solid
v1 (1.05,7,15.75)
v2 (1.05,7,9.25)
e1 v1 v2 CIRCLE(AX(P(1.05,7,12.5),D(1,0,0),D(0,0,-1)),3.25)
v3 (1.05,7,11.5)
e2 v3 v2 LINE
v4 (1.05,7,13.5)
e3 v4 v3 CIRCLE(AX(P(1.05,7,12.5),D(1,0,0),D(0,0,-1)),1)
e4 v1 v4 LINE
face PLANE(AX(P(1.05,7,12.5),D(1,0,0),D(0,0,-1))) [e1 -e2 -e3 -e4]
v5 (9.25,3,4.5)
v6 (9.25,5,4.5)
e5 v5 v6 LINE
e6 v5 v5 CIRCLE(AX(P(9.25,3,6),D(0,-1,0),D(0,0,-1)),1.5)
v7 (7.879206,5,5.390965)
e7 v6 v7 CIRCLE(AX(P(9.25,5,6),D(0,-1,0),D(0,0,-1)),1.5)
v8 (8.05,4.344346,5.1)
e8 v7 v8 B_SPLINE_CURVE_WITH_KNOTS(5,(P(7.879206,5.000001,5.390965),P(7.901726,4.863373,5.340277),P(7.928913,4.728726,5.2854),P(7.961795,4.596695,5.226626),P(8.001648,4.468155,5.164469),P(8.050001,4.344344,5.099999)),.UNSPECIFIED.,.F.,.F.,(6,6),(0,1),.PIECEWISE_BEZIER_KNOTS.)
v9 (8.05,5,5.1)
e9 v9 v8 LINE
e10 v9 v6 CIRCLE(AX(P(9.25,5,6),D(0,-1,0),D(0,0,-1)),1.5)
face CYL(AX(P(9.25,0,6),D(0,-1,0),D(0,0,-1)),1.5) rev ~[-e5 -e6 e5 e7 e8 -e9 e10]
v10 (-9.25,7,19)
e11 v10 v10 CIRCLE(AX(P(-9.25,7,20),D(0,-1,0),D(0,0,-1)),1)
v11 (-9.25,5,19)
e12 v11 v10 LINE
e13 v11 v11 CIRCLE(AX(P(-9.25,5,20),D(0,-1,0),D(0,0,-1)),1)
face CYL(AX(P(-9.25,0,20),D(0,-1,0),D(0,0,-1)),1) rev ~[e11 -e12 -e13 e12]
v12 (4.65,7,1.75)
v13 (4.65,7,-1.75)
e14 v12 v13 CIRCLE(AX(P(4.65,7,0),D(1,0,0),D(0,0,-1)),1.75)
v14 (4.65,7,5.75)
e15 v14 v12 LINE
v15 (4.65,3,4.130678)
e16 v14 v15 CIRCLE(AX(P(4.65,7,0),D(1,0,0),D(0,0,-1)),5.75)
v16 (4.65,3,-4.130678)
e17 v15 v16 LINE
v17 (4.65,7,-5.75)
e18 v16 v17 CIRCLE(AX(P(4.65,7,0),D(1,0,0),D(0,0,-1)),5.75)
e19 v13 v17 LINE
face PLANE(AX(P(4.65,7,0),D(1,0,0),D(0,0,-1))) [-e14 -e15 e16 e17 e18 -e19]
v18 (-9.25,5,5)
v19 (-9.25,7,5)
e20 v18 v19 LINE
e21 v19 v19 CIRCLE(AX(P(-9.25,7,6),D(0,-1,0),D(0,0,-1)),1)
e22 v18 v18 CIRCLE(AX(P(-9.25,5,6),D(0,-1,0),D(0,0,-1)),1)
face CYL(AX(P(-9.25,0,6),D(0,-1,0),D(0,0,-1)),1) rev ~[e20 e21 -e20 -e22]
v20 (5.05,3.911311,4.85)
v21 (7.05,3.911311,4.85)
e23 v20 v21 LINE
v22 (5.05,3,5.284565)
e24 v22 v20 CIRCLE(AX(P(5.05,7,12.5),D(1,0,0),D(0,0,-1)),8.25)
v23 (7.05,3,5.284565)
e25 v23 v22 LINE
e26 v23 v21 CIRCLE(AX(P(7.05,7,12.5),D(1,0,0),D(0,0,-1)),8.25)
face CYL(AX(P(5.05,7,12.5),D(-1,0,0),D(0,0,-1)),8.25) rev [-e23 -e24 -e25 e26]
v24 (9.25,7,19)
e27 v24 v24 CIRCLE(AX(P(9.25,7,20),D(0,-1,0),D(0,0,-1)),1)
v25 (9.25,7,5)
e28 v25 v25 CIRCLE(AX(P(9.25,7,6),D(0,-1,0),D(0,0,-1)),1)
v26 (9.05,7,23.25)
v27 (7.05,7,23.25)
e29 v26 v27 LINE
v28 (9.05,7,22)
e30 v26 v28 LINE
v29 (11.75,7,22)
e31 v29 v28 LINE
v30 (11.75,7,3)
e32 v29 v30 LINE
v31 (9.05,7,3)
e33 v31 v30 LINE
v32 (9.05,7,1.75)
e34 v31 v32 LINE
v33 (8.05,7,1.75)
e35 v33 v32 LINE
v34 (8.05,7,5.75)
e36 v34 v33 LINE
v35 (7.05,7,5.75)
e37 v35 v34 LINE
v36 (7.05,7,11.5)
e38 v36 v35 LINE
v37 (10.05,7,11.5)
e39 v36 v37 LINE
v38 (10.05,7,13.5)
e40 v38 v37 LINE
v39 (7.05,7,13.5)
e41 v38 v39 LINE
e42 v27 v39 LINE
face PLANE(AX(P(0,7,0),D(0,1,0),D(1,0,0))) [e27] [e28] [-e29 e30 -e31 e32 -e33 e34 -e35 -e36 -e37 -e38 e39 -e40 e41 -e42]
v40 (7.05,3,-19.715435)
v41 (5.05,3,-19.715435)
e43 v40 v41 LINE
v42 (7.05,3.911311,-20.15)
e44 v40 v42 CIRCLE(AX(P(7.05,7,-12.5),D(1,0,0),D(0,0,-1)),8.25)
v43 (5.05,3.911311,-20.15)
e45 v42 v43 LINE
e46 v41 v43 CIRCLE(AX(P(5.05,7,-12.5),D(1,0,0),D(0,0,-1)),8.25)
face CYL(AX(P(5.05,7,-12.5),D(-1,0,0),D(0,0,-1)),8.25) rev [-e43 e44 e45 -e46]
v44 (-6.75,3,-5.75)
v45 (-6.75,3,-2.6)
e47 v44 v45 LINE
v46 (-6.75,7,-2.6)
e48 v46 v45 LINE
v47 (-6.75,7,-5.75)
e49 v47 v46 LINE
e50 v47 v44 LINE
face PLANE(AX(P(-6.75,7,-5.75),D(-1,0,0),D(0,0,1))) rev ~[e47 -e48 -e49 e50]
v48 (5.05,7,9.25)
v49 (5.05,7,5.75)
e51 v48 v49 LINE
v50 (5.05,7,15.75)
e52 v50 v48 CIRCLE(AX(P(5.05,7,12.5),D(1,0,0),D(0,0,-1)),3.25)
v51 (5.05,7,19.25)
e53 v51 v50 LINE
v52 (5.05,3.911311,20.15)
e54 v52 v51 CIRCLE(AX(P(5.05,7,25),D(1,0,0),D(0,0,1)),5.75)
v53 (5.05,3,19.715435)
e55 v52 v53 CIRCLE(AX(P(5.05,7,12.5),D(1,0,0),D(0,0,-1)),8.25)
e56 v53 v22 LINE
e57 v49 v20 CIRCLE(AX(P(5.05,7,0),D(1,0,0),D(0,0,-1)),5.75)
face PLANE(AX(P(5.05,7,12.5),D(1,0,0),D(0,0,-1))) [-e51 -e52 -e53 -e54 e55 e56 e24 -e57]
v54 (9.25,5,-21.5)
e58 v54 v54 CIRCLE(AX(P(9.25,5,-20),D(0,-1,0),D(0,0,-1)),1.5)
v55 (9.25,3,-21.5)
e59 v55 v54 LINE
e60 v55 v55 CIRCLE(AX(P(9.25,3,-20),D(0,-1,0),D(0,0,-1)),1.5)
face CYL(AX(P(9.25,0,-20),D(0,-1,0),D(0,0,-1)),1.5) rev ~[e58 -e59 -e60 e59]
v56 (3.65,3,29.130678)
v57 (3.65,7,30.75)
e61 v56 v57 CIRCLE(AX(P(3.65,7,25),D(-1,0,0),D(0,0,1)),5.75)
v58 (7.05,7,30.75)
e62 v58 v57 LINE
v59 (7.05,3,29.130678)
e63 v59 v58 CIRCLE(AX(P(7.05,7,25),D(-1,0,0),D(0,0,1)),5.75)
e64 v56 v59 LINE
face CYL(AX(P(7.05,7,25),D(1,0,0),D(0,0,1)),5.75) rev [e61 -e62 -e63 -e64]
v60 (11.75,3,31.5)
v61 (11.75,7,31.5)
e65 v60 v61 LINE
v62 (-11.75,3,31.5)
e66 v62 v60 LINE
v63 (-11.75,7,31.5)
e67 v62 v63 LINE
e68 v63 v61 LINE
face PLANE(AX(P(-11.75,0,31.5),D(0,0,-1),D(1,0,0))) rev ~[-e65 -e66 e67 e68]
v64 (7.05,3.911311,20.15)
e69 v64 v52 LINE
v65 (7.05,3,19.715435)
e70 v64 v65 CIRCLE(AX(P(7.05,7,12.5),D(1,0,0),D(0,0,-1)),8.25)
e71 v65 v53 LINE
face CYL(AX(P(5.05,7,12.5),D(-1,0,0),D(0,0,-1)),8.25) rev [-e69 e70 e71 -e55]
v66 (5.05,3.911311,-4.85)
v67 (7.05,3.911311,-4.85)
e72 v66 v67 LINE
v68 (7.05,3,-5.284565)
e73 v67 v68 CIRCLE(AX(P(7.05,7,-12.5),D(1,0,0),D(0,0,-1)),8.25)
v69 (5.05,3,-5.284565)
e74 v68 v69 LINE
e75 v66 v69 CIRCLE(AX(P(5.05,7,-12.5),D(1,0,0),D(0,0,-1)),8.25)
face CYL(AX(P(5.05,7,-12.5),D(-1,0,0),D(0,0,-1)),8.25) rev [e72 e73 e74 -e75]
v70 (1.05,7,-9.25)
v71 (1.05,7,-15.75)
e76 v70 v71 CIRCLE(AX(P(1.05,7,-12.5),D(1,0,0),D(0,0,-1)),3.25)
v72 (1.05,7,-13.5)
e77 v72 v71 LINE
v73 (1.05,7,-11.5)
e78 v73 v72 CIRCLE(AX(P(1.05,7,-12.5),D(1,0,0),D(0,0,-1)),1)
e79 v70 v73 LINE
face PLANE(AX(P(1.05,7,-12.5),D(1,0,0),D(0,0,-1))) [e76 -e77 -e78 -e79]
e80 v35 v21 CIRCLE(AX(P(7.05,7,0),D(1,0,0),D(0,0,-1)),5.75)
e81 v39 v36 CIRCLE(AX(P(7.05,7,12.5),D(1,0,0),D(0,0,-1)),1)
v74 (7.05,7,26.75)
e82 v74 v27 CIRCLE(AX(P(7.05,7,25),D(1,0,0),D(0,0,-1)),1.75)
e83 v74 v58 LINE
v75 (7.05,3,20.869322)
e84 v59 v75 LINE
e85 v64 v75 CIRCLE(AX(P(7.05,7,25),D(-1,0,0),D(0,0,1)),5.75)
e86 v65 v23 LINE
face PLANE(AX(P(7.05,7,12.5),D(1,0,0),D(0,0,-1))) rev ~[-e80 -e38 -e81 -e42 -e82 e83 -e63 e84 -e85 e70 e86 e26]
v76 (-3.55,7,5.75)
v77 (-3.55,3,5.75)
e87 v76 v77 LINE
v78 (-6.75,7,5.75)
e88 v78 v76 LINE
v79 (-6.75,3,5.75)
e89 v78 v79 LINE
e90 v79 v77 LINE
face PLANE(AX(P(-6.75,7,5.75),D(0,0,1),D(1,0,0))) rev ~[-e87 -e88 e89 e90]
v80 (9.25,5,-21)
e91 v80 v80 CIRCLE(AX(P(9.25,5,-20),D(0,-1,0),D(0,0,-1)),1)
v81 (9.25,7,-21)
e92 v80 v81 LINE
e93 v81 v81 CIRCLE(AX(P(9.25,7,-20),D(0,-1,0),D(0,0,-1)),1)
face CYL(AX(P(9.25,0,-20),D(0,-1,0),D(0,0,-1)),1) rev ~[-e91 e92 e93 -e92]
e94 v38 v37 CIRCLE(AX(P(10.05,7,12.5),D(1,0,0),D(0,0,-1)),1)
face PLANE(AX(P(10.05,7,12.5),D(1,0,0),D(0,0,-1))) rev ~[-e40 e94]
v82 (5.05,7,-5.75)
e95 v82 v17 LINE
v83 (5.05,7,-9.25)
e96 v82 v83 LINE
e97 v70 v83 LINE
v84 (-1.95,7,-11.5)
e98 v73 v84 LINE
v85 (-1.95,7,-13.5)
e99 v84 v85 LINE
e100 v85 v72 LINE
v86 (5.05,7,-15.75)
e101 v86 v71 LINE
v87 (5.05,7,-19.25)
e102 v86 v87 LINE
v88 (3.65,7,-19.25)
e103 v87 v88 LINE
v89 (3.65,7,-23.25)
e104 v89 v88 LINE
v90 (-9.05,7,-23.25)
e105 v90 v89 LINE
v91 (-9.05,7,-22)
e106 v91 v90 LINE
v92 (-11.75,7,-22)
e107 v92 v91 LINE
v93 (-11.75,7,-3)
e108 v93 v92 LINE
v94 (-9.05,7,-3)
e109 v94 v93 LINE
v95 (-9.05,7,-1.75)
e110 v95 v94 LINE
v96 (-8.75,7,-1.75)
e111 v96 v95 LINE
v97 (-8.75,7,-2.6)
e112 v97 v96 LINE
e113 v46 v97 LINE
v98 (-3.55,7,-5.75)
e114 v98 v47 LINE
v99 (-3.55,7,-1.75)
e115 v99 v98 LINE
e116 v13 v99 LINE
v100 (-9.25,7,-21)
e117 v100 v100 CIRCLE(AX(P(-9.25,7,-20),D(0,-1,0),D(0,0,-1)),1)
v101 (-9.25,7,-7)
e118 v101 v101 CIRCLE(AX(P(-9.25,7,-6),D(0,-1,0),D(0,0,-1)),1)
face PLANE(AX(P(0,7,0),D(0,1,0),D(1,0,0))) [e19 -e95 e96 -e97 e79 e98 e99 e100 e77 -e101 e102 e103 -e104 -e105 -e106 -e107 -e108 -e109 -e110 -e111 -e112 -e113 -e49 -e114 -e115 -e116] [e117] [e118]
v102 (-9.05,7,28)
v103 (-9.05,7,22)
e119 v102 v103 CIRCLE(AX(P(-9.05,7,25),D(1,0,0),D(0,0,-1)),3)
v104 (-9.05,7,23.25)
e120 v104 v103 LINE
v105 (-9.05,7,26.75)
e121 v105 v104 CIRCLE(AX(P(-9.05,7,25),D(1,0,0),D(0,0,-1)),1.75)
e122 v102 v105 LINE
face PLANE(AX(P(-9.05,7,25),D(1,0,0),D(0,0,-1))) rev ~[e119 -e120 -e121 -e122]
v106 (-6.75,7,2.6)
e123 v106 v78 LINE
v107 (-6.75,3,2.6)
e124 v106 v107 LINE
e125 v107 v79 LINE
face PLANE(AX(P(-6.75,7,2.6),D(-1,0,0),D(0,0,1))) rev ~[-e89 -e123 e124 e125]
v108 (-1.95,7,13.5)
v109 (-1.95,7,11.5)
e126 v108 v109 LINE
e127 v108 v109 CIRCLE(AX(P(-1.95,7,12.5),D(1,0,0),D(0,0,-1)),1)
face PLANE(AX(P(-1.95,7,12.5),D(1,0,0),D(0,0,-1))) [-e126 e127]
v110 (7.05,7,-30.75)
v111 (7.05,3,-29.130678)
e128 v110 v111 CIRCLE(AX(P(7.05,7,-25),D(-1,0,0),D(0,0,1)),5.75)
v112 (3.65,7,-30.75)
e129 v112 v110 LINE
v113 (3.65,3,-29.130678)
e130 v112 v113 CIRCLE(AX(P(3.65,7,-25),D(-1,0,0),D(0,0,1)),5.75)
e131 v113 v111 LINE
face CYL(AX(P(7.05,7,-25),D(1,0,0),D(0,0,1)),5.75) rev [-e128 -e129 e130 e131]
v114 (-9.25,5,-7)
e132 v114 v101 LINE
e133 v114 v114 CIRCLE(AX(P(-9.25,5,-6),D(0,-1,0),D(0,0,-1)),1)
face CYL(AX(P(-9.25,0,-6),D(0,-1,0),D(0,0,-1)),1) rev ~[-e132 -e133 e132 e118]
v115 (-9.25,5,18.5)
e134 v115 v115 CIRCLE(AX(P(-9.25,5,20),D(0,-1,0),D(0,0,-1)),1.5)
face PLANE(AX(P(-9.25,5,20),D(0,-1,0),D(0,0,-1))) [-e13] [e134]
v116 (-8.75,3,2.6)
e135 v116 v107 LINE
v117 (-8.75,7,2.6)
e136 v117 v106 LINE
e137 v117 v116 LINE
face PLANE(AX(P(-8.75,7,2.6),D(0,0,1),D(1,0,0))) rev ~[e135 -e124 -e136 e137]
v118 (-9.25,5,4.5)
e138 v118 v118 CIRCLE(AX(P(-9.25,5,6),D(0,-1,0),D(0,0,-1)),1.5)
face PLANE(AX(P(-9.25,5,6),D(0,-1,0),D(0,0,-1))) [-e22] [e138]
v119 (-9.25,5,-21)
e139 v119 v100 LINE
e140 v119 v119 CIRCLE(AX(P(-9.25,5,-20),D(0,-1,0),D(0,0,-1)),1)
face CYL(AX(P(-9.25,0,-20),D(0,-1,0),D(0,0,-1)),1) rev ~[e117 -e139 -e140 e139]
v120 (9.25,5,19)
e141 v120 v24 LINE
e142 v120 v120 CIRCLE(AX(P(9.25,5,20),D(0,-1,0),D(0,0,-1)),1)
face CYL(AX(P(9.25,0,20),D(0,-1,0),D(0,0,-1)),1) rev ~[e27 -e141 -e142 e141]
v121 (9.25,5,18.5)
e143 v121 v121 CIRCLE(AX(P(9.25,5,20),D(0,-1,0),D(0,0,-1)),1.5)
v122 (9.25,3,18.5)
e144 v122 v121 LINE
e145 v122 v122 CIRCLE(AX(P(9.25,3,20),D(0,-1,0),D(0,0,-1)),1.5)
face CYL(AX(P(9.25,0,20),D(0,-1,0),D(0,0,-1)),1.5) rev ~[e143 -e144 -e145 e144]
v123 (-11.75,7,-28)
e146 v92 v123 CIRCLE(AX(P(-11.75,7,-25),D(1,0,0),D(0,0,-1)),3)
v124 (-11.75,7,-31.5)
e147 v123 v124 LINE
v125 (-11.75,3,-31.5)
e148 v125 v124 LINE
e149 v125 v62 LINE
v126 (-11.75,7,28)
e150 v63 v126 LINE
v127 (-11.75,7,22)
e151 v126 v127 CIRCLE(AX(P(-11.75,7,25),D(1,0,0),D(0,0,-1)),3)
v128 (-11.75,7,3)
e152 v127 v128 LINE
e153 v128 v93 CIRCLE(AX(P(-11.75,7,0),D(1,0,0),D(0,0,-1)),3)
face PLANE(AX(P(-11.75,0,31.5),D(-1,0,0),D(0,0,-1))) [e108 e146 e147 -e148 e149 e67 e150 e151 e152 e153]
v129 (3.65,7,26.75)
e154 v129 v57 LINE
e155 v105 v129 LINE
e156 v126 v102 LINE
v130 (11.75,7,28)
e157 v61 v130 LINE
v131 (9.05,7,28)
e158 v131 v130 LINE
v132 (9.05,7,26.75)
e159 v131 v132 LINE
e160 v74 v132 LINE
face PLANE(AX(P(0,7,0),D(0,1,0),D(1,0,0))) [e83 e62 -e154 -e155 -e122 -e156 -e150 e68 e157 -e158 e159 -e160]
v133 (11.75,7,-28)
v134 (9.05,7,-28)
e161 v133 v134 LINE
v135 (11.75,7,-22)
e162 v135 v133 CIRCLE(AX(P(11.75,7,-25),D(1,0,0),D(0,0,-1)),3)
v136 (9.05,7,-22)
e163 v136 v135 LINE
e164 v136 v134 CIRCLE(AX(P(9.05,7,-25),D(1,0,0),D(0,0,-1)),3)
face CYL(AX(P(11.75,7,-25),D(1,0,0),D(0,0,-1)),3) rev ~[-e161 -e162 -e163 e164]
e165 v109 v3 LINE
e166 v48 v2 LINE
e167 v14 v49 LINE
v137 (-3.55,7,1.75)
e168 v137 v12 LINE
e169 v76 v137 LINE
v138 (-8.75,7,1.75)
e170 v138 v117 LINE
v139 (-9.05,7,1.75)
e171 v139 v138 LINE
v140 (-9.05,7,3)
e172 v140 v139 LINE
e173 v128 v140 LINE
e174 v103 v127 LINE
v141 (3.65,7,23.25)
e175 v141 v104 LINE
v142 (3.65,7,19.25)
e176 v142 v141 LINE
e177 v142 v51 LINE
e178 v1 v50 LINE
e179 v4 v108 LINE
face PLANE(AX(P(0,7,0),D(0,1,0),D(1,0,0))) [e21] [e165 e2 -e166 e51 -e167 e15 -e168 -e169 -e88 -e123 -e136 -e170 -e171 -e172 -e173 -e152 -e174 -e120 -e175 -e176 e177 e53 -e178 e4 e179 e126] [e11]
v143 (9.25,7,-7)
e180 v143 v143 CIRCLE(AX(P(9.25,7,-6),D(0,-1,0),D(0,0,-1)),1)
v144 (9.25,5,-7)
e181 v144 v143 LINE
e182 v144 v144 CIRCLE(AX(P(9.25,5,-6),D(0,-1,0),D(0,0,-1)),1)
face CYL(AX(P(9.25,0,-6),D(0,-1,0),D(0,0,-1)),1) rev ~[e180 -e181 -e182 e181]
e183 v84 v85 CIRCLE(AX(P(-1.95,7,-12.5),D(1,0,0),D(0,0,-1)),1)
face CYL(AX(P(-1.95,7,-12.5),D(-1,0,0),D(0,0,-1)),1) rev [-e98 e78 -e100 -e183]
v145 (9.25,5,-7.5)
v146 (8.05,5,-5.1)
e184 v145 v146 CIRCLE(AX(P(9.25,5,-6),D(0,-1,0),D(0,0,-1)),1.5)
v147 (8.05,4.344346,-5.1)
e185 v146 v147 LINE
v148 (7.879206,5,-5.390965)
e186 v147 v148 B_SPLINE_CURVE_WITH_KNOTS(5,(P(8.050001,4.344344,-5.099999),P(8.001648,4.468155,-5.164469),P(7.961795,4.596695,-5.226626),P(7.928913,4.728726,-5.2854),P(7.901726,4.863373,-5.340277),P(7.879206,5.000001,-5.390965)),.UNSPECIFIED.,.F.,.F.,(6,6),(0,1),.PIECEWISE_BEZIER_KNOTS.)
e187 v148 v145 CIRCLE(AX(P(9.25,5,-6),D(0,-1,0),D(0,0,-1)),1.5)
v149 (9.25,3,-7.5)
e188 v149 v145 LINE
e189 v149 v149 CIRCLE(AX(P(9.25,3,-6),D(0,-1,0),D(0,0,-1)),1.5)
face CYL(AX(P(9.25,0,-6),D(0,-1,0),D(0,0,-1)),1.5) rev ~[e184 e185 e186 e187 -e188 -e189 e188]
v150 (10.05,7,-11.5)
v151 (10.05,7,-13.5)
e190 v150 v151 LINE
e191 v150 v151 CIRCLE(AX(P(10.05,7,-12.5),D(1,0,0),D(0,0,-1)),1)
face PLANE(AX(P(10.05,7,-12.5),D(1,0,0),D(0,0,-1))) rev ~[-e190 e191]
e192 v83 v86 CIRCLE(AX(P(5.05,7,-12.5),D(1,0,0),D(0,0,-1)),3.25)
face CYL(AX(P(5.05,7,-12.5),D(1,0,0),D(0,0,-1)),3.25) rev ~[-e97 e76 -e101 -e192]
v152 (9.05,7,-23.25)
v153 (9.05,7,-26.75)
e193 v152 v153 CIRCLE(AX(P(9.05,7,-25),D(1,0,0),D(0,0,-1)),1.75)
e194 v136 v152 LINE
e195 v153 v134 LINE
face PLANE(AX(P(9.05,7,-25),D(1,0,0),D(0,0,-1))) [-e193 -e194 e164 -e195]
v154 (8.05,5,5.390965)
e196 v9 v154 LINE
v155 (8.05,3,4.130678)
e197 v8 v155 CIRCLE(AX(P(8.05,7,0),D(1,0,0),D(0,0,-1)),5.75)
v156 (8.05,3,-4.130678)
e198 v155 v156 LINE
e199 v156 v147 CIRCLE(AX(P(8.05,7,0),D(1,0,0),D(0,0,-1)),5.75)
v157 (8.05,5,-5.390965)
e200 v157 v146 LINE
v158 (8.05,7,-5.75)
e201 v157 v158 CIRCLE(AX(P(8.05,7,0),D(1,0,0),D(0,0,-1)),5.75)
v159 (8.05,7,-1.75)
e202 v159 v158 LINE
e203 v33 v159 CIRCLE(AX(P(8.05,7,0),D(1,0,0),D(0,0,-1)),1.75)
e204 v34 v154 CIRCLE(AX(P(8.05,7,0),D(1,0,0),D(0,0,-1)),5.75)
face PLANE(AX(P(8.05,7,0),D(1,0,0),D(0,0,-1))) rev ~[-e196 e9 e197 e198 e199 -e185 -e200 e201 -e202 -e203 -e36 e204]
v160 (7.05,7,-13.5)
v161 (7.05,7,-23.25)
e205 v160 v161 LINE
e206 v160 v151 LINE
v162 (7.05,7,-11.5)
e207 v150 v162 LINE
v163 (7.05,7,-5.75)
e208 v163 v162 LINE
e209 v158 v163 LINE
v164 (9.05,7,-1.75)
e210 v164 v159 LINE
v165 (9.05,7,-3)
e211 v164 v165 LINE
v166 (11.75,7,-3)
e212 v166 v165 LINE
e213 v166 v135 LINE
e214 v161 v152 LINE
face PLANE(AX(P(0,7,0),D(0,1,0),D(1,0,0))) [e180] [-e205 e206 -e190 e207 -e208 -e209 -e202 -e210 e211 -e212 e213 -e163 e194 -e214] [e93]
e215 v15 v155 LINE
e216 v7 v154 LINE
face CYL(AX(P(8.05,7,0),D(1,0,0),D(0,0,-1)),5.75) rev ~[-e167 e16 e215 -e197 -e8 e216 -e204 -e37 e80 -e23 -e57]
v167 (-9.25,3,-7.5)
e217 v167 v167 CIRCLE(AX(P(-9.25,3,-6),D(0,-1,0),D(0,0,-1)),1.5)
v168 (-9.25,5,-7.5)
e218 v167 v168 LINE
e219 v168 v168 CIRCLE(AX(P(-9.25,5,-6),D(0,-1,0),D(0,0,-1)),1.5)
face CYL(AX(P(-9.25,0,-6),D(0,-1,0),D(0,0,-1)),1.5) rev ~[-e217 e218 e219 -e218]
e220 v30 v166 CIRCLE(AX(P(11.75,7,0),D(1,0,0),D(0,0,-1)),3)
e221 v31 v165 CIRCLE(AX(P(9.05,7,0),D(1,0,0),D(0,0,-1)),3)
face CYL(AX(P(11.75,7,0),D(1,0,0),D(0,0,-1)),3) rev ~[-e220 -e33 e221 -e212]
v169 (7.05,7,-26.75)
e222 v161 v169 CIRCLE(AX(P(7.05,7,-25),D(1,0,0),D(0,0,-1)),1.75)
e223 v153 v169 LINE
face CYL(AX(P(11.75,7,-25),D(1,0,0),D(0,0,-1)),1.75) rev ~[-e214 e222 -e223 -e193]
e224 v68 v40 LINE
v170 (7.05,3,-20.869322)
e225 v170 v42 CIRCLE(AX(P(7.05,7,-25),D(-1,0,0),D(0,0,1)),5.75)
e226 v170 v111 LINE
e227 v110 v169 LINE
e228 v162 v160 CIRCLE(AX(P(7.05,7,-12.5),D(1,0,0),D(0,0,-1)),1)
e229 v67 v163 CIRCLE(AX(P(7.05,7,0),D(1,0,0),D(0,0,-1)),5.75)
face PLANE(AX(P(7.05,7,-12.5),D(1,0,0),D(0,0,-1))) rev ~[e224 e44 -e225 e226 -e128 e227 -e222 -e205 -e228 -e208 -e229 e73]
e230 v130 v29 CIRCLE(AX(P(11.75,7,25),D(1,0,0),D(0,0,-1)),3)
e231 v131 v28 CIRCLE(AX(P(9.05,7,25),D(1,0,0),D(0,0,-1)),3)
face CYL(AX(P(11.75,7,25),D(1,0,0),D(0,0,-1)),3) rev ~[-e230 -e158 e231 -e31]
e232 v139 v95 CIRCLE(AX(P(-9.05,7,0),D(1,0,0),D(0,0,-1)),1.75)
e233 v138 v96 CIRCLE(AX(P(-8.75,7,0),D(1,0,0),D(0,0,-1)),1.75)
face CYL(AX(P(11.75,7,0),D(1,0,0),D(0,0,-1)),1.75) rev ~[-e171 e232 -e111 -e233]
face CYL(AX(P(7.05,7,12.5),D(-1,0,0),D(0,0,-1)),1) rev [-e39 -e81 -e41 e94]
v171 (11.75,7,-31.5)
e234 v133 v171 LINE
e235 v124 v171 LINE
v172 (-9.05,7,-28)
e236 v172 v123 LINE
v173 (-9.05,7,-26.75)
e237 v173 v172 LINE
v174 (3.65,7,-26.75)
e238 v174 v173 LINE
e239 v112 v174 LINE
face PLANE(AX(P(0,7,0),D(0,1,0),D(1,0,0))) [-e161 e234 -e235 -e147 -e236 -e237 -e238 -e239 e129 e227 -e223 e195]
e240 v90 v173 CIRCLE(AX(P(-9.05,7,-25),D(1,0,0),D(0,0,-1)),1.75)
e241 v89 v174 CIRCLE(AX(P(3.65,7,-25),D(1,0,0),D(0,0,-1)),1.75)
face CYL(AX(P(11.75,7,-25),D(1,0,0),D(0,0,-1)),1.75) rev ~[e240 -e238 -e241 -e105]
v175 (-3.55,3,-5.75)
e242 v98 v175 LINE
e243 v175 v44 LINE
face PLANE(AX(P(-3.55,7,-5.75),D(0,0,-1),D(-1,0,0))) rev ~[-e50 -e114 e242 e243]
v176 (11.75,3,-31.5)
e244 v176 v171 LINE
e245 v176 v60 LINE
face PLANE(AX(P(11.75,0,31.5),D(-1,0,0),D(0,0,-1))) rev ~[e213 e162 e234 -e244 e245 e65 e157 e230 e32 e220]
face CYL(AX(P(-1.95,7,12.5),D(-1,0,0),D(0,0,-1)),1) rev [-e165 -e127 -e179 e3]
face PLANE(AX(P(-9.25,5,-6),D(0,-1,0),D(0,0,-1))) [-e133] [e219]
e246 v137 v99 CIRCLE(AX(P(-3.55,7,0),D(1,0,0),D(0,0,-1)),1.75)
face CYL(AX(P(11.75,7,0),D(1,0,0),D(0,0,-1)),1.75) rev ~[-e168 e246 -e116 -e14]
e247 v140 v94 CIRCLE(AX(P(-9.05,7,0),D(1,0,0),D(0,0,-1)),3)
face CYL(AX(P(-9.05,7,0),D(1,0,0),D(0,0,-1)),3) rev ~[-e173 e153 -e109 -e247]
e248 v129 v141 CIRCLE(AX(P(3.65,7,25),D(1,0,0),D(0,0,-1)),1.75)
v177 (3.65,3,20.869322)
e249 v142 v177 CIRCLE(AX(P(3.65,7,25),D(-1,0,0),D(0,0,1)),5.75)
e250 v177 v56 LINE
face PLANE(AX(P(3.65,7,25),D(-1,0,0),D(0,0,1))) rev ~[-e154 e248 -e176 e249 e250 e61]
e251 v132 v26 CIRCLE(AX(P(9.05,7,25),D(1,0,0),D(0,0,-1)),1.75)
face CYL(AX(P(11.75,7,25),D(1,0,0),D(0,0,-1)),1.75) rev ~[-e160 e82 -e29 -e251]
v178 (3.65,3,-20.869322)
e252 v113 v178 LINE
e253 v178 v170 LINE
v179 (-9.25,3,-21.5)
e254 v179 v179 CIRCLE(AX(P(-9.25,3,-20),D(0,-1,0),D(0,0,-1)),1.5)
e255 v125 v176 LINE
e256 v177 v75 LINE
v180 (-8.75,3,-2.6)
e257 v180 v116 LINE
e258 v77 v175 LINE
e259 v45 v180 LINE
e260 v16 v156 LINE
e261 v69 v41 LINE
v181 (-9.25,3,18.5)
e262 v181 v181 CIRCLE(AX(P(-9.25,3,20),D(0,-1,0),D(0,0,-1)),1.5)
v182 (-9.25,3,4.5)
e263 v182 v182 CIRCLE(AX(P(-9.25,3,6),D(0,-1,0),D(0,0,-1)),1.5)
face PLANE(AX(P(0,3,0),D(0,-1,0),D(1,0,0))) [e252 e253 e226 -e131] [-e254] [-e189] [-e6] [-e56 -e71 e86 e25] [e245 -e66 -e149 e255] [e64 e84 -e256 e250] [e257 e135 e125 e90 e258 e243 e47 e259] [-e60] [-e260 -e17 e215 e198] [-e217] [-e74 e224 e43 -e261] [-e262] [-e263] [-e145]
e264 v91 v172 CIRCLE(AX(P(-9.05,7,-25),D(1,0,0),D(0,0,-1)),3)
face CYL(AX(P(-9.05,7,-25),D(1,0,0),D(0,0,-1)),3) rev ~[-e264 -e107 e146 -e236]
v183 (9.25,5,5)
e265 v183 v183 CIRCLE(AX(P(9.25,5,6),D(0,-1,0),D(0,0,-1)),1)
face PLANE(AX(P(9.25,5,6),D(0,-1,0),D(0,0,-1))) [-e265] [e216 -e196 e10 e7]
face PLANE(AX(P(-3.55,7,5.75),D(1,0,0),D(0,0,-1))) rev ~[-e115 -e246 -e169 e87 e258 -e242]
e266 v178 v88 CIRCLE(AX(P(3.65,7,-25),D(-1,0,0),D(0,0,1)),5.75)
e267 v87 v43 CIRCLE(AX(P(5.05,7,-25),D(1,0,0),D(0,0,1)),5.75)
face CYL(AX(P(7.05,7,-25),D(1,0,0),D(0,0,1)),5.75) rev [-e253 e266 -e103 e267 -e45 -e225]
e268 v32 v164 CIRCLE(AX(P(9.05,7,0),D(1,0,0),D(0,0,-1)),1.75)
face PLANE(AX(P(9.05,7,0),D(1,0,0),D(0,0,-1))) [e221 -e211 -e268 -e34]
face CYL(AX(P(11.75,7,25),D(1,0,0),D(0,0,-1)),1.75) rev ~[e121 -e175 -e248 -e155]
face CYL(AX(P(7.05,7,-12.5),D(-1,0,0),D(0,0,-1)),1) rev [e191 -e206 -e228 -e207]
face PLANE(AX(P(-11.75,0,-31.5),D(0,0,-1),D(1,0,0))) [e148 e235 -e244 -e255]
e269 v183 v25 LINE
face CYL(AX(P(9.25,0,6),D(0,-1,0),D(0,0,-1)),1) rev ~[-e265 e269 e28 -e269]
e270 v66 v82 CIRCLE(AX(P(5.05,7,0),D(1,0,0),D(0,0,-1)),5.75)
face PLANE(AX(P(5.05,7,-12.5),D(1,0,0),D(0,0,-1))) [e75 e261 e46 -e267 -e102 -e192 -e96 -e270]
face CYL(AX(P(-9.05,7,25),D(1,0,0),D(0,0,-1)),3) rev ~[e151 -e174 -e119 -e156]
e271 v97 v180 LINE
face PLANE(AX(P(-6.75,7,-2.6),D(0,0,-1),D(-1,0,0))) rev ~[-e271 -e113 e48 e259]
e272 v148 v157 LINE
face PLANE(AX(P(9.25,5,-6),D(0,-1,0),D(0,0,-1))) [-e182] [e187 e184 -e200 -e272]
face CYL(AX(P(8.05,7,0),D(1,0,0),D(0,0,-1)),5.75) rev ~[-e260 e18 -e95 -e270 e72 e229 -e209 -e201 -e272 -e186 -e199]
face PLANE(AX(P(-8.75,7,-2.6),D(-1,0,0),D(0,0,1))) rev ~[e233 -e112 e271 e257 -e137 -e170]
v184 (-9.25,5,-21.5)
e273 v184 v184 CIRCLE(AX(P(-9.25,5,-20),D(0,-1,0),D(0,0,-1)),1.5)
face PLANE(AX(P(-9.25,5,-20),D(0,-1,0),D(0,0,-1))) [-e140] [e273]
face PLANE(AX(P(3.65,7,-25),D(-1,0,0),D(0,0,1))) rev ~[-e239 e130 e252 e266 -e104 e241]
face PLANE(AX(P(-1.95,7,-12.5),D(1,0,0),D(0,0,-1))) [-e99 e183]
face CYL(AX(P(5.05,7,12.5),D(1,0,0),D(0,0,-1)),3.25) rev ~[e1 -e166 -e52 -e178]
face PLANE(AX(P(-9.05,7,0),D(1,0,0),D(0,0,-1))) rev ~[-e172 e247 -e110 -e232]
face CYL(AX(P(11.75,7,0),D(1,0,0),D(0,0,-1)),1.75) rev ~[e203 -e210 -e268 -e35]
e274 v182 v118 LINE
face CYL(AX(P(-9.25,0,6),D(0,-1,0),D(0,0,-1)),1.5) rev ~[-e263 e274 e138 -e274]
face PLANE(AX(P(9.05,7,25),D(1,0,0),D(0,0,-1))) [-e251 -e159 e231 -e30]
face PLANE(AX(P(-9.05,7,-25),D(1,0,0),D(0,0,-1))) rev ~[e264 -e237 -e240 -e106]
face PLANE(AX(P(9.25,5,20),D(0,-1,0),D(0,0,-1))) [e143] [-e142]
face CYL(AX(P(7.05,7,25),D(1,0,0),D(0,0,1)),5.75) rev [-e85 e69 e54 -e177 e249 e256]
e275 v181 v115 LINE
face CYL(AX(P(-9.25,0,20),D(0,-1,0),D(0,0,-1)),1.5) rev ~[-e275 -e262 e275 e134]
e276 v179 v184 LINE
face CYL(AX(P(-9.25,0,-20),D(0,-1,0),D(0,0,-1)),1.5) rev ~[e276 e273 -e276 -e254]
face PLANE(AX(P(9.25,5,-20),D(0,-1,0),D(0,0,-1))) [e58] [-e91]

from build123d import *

# Parameters (mm, degrees)
SKETCH_4_W           = 23.5
SKETCH_4_H           = 63
EXTRUDE_1_DEPTH      = 7
SKETCH_5_R           = 1.75
CUT_EXTRUDE_1_DEPTH  = 40.918667312
SKETCH_5_3_R         = 3
CUT_EXTRUDE_4_DEPTH  = 2.7
CUT_EXTRUDE_START    = -20.8
SKETCH_5_4_R         = 3
CUT_EXTRUDE_5_DEPTH  = 2.7
SKETCH_5_5_R         = 3
CUT_EXTRUDE_6_DEPTH  = 2.7
SKETCH_5_6_R         = 3
CUT_EXTRUDE_7_DEPTH  = 2.7
SKETCH_6_R           = 1.5
SKETCH_6_R_2         = 1
CUT_EXTRUDE_2_DEPTH  = 5
SKETCH_6_2_R         = 1
CUT_EXTRUDE_3_DEPTH  = 35.341119667
CUT_EXTRUDE_8_DEPTH  = 6
CUT_EXTRUDE_START_2  = -1
SKETCH_12_R          = 5.75
CUT_EXTRUDE_9_DEPTH  = 3.4
CUT_EXTRUDE_START_3  = 0.4
SKETCH_13_R          = 8.25
CUT_EXTRUDE_10_DEPTH = 2
SKETCH_14_R          = 3.25
CUT_EXTRUDE_11_DEPTH = 4
CUT_EXTRUDE_START_4  = -4.7
SKETCH_15_R          = 1
CUT_EXTRUDE_12_DEPTH = 3
CUT_EXTRUDE_START_5  = -13.7
SKETCH_15_2_R        = 1
CUT_EXTRUDE_15_DEPTH = 3
SKETCH_16_R          = 5.75
CUT_EXTRUDE_13_DEPTH = 3.4
SKETCH_17_W          = 23.5
SKETCH_17_H          = 63
CUT_EXTRUDE_14_DEPTH = 3


with BuildPart() as part:
    # 草图4 → 凸台-拉伸1 (new body)
    with BuildSketch(Plane(origin=(0, 0, 0), x_dir=(1, 0, 0), z_dir=(0, 1, 0))):
        Rectangle(SKETCH_4_W, SKETCH_4_H)
    extrude(amount=EXTRUDE_1_DEPTH)

    # 草图5 → 切除-拉伸1 (cut, through all)
    with BuildSketch(Plane(origin=(11.75, 0, 0), x_dir=(0, 0, -1), z_dir=(1, 0, 0))):
        with Locations((-25, 7)):
            Circle(SKETCH_5_R)
        with Locations((0, 7)):
            Circle(SKETCH_5_R)
        with Locations((25, 7)):
            Circle(SKETCH_5_R)
    extrude(amount=-CUT_EXTRUDE_1_DEPTH, mode=Mode.SUBTRACT)

    # 草图5<3> → 切除-拉伸4 (cut)
    with BuildSketch(Plane(origin=(11.75, 0, 0), x_dir=(0, 0, -1), z_dir=(1, 0, 0))):
        with Locations((-25, 7)):
            Circle(SKETCH_5_3_R)
        with Locations((25, 7)):
            Circle(SKETCH_5_3_R)
    extrude(amount=-CUT_EXTRUDE_4_DEPTH, mode=Mode.SUBTRACT)

    # 草图5<4> → 切除-拉伸5 (cut)
    with BuildSketch(Plane(origin=(11.75, 0, 0), x_dir=(0, 0, -1), z_dir=(1, 0, 0)).offset(CUT_EXTRUDE_START)):
        with Locations((-25, 7)):
            Circle(SKETCH_5_4_R)
        with Locations((25, 7)):
            Circle(SKETCH_5_4_R)
    extrude(amount=-CUT_EXTRUDE_5_DEPTH, mode=Mode.SUBTRACT)

    # 草图5<5> → 切除-拉伸6 (cut)
    with BuildSketch(Plane(origin=(11.75, 0, 0), x_dir=(0, 0, -1), z_dir=(1, 0, 0))):
        with Locations((0, 7)):
            Circle(SKETCH_5_5_R)
    extrude(amount=-CUT_EXTRUDE_6_DEPTH, mode=Mode.SUBTRACT)

    # 草图5<6> → 切除-拉伸7 (cut)
    with BuildSketch(Plane(origin=(11.75, 0, 0), x_dir=(0, 0, -1), z_dir=(1, 0, 0)).offset(CUT_EXTRUDE_START)):
        with Locations((0, 7)):
            Circle(SKETCH_5_6_R)
    extrude(amount=-CUT_EXTRUDE_7_DEPTH, mode=Mode.SUBTRACT)

    # 草图6 → 切除-拉伸2 (cut)
    # profile 1 of 8: a face of its own
    with BuildSketch(Plane.XZ):
        with Locations(Location((-9.25, 6, 0), (0, 0, 270))):
            Circle(SKETCH_6_R)
        with Locations(Location((-9.25, 6, 0), (0, 0, 270))):
            Circle(SKETCH_6_R_2, mode=Mode.SUBTRACT)
    # profile 2 of 8: a face of its own
    with BuildSketch(Plane.XZ):
        with Locations(Location((9.25, 6, 0), (0, 0, 270))):
            Circle(SKETCH_6_R)
        with Locations(Location((9.25, 6, 0), (0, 0, 270))):
            Circle(SKETCH_6_R_2, mode=Mode.SUBTRACT)
    # profile 3 of 8: a face of its own
    with BuildSketch(Plane.XZ):
        with Locations(Location((-9.25, -20, 0), (0, 0, 270))):
            Circle(SKETCH_6_R)
        with Locations(Location((-9.25, -20, 0), (0, 0, 270))):
            Circle(SKETCH_6_R_2, mode=Mode.SUBTRACT)
    # profile 4 of 8: a face of its own
    with BuildSketch(Plane.XZ):
        with Locations(Location((9.25, -20, 0), (0, 0, 270))):
            Circle(SKETCH_6_R)
        with Locations(Location((9.25, -20, 0), (0, 0, 270))):
            Circle(SKETCH_6_R_2, mode=Mode.SUBTRACT)
    # profile 5 of 8: a face of its own
    with BuildSketch(Plane.XZ):
        with Locations(Location((-9.25, 20, 0), (0, 0, 270))):
            Circle(SKETCH_6_R)
        with Locations(Location((-9.25, 20, 0), (0, 0, 270))):
            Circle(SKETCH_6_R_2, mode=Mode.SUBTRACT)
    # profile 6 of 8: a face of its own
    with BuildSketch(Plane.XZ):
        with Locations(Location((9.25, 20, 0), (0, 0, 270))):
            Circle(SKETCH_6_R)
        with Locations(Location((9.25, 20, 0), (0, 0, 270))):
            Circle(SKETCH_6_R_2, mode=Mode.SUBTRACT)
    # profile 7 of 8: a face of its own
    with BuildSketch(Plane.XZ):
        with Locations(Location((-9.25, -6, 0), (0, 0, 270))):
            Circle(SKETCH_6_R)
        with Locations(Location((-9.25, -6, 0), (0, 0, 270))):
            Circle(SKETCH_6_R_2, mode=Mode.SUBTRACT)
    # profile 8 of 8: a face of its own
    with BuildSketch(Plane.XZ):
        with Locations(Location((9.25, -6, 0), (0, 0, 270))):
            Circle(SKETCH_6_R)
        with Locations(Location((9.25, -6, 0), (0, 0, 270))):
            Circle(SKETCH_6_R_2, mode=Mode.SUBTRACT)
    extrude(amount=-CUT_EXTRUDE_2_DEPTH, mode=Mode.SUBTRACT)

    # 草图6<2> → 切除-拉伸3 (cut, through all)
    with BuildSketch(Plane.XZ):
        with Locations(Location((-9.25, -20, 0), (0, 0, 270))):
            Circle(SKETCH_6_2_R)
        with Locations(Location((9.25, -20, 0), (0, 0, 270))):
            Circle(SKETCH_6_2_R)
        with Locations(Location((-9.25, 20, 0), (0, 0, 270))):
            Circle(SKETCH_6_2_R)
        with Locations(Location((9.25, 20, 0), (0, 0, 270))):
            Circle(SKETCH_6_2_R)
        with Locations(Location((9.25, -6, 0), (0, 0, 270))):
            Circle(SKETCH_6_2_R)
        with Locations(Location((-9.25, -6, 0), (0, 0, 270))):
            Circle(SKETCH_6_2_R)
        with Locations(Location((-9.25, 6, 0), (0, 0, 270))):
            Circle(SKETCH_6_2_R)
        with Locations(Location((9.25, 6, 0), (0, 0, 270))):
            Circle(SKETCH_6_2_R)
    extrude(amount=-CUT_EXTRUDE_3_DEPTH, mode=Mode.SUBTRACT)

    # 草图10 → 切除-拉伸8 (cut)
    with BuildSketch(Plane(origin=(0, 7, 0), x_dir=(1, 0, 0), z_dir=(0, 1, 0))):
        Polygon((-8.75, 2.6), (-8.75, -2.6), (-6.75, -2.6), (-6.75, -5.75), (-3.55, -5.75), (-3.55, 5.75), (-6.75, 5.75), (-6.75, 2.6), align=None)
    extrude(amount=-CUT_EXTRUDE_8_DEPTH, mode=Mode.SUBTRACT)

    # 草图12 → 切除-拉伸9 (cut)
    with BuildSketch(Plane(origin=(9.05, 0, 0), x_dir=(0, 0, -1), z_dir=(1, 0, 0)).offset(CUT_EXTRUDE_START_2)):
        with Locations((0, 7)):
            Circle(SKETCH_12_R)
    extrude(amount=-CUT_EXTRUDE_9_DEPTH, mode=Mode.SUBTRACT)

    # 草图13 → 切除-拉伸10 (cut)
    with BuildSketch(Plane(origin=(4.65, 0, 0), x_dir=(0, 0, -1), z_dir=(1, 0, 0)).offset(CUT_EXTRUDE_START_3)):
        with Locations((-12.5, 7)):
            Circle(SKETCH_13_R)
        with Locations((12.5, 7)):
            Circle(SKETCH_13_R)
    extrude(amount=CUT_EXTRUDE_10_DEPTH, mode=Mode.SUBTRACT)

    # 草图14 → 切除-拉伸11 (cut)
    with BuildSketch(Plane(origin=(5.05, 0, 0), x_dir=(0, 0, -1), z_dir=(1, 0, 0))):
        with Locations((-12.5, 7)):
            Circle(SKETCH_14_R)
        with Locations((12.5, 7)):
            Circle(SKETCH_14_R)
    extrude(amount=-CUT_EXTRUDE_11_DEPTH, mode=Mode.SUBTRACT)

    # 草图15 → 切除-拉伸12 (cut)
    with BuildSketch(Plane(origin=(11.75, 0, 0), x_dir=(0, 0, -1), z_dir=(1, 0, 0)).offset(CUT_EXTRUDE_START_4)):
        with Locations((-12.5, 7)):
            Circle(SKETCH_15_R)
        with Locations((12.5, 7)):
            Circle(SKETCH_15_R)
    extrude(amount=CUT_EXTRUDE_12_DEPTH, mode=Mode.SUBTRACT)

    # 草图15<2> → 切除-拉伸15 (cut)
    with BuildSketch(Plane(origin=(11.75, 0, 0), x_dir=(0, 0, -1), z_dir=(1, 0, 0)).offset(CUT_EXTRUDE_START_5)):
        with Locations((-12.5, 7)):
            Circle(SKETCH_15_2_R)
        with Locations((12.5, 7)):
            Circle(SKETCH_15_2_R)
    extrude(amount=CUT_EXTRUDE_15_DEPTH, mode=Mode.SUBTRACT)

    # 草图16 → 切除-拉伸13 (cut)
    with BuildSketch(Plane.ZY.offset(-7.05)):
        with Locations((25, 7)):
            Circle(SKETCH_16_R)
        with Locations((-25, 7)):
            Circle(SKETCH_16_R)
    extrude(amount=CUT_EXTRUDE_13_DEPTH, mode=Mode.SUBTRACT)

    # 草图17 → 切除-拉伸14 (cut)
    with BuildSketch(Plane.XZ):
        Rectangle(SKETCH_17_W, SKETCH_17_H)
    extrude(amount=-CUT_EXTRUDE_14_DEPTH, mode=Mode.SUBTRACT)


solid = part.part
